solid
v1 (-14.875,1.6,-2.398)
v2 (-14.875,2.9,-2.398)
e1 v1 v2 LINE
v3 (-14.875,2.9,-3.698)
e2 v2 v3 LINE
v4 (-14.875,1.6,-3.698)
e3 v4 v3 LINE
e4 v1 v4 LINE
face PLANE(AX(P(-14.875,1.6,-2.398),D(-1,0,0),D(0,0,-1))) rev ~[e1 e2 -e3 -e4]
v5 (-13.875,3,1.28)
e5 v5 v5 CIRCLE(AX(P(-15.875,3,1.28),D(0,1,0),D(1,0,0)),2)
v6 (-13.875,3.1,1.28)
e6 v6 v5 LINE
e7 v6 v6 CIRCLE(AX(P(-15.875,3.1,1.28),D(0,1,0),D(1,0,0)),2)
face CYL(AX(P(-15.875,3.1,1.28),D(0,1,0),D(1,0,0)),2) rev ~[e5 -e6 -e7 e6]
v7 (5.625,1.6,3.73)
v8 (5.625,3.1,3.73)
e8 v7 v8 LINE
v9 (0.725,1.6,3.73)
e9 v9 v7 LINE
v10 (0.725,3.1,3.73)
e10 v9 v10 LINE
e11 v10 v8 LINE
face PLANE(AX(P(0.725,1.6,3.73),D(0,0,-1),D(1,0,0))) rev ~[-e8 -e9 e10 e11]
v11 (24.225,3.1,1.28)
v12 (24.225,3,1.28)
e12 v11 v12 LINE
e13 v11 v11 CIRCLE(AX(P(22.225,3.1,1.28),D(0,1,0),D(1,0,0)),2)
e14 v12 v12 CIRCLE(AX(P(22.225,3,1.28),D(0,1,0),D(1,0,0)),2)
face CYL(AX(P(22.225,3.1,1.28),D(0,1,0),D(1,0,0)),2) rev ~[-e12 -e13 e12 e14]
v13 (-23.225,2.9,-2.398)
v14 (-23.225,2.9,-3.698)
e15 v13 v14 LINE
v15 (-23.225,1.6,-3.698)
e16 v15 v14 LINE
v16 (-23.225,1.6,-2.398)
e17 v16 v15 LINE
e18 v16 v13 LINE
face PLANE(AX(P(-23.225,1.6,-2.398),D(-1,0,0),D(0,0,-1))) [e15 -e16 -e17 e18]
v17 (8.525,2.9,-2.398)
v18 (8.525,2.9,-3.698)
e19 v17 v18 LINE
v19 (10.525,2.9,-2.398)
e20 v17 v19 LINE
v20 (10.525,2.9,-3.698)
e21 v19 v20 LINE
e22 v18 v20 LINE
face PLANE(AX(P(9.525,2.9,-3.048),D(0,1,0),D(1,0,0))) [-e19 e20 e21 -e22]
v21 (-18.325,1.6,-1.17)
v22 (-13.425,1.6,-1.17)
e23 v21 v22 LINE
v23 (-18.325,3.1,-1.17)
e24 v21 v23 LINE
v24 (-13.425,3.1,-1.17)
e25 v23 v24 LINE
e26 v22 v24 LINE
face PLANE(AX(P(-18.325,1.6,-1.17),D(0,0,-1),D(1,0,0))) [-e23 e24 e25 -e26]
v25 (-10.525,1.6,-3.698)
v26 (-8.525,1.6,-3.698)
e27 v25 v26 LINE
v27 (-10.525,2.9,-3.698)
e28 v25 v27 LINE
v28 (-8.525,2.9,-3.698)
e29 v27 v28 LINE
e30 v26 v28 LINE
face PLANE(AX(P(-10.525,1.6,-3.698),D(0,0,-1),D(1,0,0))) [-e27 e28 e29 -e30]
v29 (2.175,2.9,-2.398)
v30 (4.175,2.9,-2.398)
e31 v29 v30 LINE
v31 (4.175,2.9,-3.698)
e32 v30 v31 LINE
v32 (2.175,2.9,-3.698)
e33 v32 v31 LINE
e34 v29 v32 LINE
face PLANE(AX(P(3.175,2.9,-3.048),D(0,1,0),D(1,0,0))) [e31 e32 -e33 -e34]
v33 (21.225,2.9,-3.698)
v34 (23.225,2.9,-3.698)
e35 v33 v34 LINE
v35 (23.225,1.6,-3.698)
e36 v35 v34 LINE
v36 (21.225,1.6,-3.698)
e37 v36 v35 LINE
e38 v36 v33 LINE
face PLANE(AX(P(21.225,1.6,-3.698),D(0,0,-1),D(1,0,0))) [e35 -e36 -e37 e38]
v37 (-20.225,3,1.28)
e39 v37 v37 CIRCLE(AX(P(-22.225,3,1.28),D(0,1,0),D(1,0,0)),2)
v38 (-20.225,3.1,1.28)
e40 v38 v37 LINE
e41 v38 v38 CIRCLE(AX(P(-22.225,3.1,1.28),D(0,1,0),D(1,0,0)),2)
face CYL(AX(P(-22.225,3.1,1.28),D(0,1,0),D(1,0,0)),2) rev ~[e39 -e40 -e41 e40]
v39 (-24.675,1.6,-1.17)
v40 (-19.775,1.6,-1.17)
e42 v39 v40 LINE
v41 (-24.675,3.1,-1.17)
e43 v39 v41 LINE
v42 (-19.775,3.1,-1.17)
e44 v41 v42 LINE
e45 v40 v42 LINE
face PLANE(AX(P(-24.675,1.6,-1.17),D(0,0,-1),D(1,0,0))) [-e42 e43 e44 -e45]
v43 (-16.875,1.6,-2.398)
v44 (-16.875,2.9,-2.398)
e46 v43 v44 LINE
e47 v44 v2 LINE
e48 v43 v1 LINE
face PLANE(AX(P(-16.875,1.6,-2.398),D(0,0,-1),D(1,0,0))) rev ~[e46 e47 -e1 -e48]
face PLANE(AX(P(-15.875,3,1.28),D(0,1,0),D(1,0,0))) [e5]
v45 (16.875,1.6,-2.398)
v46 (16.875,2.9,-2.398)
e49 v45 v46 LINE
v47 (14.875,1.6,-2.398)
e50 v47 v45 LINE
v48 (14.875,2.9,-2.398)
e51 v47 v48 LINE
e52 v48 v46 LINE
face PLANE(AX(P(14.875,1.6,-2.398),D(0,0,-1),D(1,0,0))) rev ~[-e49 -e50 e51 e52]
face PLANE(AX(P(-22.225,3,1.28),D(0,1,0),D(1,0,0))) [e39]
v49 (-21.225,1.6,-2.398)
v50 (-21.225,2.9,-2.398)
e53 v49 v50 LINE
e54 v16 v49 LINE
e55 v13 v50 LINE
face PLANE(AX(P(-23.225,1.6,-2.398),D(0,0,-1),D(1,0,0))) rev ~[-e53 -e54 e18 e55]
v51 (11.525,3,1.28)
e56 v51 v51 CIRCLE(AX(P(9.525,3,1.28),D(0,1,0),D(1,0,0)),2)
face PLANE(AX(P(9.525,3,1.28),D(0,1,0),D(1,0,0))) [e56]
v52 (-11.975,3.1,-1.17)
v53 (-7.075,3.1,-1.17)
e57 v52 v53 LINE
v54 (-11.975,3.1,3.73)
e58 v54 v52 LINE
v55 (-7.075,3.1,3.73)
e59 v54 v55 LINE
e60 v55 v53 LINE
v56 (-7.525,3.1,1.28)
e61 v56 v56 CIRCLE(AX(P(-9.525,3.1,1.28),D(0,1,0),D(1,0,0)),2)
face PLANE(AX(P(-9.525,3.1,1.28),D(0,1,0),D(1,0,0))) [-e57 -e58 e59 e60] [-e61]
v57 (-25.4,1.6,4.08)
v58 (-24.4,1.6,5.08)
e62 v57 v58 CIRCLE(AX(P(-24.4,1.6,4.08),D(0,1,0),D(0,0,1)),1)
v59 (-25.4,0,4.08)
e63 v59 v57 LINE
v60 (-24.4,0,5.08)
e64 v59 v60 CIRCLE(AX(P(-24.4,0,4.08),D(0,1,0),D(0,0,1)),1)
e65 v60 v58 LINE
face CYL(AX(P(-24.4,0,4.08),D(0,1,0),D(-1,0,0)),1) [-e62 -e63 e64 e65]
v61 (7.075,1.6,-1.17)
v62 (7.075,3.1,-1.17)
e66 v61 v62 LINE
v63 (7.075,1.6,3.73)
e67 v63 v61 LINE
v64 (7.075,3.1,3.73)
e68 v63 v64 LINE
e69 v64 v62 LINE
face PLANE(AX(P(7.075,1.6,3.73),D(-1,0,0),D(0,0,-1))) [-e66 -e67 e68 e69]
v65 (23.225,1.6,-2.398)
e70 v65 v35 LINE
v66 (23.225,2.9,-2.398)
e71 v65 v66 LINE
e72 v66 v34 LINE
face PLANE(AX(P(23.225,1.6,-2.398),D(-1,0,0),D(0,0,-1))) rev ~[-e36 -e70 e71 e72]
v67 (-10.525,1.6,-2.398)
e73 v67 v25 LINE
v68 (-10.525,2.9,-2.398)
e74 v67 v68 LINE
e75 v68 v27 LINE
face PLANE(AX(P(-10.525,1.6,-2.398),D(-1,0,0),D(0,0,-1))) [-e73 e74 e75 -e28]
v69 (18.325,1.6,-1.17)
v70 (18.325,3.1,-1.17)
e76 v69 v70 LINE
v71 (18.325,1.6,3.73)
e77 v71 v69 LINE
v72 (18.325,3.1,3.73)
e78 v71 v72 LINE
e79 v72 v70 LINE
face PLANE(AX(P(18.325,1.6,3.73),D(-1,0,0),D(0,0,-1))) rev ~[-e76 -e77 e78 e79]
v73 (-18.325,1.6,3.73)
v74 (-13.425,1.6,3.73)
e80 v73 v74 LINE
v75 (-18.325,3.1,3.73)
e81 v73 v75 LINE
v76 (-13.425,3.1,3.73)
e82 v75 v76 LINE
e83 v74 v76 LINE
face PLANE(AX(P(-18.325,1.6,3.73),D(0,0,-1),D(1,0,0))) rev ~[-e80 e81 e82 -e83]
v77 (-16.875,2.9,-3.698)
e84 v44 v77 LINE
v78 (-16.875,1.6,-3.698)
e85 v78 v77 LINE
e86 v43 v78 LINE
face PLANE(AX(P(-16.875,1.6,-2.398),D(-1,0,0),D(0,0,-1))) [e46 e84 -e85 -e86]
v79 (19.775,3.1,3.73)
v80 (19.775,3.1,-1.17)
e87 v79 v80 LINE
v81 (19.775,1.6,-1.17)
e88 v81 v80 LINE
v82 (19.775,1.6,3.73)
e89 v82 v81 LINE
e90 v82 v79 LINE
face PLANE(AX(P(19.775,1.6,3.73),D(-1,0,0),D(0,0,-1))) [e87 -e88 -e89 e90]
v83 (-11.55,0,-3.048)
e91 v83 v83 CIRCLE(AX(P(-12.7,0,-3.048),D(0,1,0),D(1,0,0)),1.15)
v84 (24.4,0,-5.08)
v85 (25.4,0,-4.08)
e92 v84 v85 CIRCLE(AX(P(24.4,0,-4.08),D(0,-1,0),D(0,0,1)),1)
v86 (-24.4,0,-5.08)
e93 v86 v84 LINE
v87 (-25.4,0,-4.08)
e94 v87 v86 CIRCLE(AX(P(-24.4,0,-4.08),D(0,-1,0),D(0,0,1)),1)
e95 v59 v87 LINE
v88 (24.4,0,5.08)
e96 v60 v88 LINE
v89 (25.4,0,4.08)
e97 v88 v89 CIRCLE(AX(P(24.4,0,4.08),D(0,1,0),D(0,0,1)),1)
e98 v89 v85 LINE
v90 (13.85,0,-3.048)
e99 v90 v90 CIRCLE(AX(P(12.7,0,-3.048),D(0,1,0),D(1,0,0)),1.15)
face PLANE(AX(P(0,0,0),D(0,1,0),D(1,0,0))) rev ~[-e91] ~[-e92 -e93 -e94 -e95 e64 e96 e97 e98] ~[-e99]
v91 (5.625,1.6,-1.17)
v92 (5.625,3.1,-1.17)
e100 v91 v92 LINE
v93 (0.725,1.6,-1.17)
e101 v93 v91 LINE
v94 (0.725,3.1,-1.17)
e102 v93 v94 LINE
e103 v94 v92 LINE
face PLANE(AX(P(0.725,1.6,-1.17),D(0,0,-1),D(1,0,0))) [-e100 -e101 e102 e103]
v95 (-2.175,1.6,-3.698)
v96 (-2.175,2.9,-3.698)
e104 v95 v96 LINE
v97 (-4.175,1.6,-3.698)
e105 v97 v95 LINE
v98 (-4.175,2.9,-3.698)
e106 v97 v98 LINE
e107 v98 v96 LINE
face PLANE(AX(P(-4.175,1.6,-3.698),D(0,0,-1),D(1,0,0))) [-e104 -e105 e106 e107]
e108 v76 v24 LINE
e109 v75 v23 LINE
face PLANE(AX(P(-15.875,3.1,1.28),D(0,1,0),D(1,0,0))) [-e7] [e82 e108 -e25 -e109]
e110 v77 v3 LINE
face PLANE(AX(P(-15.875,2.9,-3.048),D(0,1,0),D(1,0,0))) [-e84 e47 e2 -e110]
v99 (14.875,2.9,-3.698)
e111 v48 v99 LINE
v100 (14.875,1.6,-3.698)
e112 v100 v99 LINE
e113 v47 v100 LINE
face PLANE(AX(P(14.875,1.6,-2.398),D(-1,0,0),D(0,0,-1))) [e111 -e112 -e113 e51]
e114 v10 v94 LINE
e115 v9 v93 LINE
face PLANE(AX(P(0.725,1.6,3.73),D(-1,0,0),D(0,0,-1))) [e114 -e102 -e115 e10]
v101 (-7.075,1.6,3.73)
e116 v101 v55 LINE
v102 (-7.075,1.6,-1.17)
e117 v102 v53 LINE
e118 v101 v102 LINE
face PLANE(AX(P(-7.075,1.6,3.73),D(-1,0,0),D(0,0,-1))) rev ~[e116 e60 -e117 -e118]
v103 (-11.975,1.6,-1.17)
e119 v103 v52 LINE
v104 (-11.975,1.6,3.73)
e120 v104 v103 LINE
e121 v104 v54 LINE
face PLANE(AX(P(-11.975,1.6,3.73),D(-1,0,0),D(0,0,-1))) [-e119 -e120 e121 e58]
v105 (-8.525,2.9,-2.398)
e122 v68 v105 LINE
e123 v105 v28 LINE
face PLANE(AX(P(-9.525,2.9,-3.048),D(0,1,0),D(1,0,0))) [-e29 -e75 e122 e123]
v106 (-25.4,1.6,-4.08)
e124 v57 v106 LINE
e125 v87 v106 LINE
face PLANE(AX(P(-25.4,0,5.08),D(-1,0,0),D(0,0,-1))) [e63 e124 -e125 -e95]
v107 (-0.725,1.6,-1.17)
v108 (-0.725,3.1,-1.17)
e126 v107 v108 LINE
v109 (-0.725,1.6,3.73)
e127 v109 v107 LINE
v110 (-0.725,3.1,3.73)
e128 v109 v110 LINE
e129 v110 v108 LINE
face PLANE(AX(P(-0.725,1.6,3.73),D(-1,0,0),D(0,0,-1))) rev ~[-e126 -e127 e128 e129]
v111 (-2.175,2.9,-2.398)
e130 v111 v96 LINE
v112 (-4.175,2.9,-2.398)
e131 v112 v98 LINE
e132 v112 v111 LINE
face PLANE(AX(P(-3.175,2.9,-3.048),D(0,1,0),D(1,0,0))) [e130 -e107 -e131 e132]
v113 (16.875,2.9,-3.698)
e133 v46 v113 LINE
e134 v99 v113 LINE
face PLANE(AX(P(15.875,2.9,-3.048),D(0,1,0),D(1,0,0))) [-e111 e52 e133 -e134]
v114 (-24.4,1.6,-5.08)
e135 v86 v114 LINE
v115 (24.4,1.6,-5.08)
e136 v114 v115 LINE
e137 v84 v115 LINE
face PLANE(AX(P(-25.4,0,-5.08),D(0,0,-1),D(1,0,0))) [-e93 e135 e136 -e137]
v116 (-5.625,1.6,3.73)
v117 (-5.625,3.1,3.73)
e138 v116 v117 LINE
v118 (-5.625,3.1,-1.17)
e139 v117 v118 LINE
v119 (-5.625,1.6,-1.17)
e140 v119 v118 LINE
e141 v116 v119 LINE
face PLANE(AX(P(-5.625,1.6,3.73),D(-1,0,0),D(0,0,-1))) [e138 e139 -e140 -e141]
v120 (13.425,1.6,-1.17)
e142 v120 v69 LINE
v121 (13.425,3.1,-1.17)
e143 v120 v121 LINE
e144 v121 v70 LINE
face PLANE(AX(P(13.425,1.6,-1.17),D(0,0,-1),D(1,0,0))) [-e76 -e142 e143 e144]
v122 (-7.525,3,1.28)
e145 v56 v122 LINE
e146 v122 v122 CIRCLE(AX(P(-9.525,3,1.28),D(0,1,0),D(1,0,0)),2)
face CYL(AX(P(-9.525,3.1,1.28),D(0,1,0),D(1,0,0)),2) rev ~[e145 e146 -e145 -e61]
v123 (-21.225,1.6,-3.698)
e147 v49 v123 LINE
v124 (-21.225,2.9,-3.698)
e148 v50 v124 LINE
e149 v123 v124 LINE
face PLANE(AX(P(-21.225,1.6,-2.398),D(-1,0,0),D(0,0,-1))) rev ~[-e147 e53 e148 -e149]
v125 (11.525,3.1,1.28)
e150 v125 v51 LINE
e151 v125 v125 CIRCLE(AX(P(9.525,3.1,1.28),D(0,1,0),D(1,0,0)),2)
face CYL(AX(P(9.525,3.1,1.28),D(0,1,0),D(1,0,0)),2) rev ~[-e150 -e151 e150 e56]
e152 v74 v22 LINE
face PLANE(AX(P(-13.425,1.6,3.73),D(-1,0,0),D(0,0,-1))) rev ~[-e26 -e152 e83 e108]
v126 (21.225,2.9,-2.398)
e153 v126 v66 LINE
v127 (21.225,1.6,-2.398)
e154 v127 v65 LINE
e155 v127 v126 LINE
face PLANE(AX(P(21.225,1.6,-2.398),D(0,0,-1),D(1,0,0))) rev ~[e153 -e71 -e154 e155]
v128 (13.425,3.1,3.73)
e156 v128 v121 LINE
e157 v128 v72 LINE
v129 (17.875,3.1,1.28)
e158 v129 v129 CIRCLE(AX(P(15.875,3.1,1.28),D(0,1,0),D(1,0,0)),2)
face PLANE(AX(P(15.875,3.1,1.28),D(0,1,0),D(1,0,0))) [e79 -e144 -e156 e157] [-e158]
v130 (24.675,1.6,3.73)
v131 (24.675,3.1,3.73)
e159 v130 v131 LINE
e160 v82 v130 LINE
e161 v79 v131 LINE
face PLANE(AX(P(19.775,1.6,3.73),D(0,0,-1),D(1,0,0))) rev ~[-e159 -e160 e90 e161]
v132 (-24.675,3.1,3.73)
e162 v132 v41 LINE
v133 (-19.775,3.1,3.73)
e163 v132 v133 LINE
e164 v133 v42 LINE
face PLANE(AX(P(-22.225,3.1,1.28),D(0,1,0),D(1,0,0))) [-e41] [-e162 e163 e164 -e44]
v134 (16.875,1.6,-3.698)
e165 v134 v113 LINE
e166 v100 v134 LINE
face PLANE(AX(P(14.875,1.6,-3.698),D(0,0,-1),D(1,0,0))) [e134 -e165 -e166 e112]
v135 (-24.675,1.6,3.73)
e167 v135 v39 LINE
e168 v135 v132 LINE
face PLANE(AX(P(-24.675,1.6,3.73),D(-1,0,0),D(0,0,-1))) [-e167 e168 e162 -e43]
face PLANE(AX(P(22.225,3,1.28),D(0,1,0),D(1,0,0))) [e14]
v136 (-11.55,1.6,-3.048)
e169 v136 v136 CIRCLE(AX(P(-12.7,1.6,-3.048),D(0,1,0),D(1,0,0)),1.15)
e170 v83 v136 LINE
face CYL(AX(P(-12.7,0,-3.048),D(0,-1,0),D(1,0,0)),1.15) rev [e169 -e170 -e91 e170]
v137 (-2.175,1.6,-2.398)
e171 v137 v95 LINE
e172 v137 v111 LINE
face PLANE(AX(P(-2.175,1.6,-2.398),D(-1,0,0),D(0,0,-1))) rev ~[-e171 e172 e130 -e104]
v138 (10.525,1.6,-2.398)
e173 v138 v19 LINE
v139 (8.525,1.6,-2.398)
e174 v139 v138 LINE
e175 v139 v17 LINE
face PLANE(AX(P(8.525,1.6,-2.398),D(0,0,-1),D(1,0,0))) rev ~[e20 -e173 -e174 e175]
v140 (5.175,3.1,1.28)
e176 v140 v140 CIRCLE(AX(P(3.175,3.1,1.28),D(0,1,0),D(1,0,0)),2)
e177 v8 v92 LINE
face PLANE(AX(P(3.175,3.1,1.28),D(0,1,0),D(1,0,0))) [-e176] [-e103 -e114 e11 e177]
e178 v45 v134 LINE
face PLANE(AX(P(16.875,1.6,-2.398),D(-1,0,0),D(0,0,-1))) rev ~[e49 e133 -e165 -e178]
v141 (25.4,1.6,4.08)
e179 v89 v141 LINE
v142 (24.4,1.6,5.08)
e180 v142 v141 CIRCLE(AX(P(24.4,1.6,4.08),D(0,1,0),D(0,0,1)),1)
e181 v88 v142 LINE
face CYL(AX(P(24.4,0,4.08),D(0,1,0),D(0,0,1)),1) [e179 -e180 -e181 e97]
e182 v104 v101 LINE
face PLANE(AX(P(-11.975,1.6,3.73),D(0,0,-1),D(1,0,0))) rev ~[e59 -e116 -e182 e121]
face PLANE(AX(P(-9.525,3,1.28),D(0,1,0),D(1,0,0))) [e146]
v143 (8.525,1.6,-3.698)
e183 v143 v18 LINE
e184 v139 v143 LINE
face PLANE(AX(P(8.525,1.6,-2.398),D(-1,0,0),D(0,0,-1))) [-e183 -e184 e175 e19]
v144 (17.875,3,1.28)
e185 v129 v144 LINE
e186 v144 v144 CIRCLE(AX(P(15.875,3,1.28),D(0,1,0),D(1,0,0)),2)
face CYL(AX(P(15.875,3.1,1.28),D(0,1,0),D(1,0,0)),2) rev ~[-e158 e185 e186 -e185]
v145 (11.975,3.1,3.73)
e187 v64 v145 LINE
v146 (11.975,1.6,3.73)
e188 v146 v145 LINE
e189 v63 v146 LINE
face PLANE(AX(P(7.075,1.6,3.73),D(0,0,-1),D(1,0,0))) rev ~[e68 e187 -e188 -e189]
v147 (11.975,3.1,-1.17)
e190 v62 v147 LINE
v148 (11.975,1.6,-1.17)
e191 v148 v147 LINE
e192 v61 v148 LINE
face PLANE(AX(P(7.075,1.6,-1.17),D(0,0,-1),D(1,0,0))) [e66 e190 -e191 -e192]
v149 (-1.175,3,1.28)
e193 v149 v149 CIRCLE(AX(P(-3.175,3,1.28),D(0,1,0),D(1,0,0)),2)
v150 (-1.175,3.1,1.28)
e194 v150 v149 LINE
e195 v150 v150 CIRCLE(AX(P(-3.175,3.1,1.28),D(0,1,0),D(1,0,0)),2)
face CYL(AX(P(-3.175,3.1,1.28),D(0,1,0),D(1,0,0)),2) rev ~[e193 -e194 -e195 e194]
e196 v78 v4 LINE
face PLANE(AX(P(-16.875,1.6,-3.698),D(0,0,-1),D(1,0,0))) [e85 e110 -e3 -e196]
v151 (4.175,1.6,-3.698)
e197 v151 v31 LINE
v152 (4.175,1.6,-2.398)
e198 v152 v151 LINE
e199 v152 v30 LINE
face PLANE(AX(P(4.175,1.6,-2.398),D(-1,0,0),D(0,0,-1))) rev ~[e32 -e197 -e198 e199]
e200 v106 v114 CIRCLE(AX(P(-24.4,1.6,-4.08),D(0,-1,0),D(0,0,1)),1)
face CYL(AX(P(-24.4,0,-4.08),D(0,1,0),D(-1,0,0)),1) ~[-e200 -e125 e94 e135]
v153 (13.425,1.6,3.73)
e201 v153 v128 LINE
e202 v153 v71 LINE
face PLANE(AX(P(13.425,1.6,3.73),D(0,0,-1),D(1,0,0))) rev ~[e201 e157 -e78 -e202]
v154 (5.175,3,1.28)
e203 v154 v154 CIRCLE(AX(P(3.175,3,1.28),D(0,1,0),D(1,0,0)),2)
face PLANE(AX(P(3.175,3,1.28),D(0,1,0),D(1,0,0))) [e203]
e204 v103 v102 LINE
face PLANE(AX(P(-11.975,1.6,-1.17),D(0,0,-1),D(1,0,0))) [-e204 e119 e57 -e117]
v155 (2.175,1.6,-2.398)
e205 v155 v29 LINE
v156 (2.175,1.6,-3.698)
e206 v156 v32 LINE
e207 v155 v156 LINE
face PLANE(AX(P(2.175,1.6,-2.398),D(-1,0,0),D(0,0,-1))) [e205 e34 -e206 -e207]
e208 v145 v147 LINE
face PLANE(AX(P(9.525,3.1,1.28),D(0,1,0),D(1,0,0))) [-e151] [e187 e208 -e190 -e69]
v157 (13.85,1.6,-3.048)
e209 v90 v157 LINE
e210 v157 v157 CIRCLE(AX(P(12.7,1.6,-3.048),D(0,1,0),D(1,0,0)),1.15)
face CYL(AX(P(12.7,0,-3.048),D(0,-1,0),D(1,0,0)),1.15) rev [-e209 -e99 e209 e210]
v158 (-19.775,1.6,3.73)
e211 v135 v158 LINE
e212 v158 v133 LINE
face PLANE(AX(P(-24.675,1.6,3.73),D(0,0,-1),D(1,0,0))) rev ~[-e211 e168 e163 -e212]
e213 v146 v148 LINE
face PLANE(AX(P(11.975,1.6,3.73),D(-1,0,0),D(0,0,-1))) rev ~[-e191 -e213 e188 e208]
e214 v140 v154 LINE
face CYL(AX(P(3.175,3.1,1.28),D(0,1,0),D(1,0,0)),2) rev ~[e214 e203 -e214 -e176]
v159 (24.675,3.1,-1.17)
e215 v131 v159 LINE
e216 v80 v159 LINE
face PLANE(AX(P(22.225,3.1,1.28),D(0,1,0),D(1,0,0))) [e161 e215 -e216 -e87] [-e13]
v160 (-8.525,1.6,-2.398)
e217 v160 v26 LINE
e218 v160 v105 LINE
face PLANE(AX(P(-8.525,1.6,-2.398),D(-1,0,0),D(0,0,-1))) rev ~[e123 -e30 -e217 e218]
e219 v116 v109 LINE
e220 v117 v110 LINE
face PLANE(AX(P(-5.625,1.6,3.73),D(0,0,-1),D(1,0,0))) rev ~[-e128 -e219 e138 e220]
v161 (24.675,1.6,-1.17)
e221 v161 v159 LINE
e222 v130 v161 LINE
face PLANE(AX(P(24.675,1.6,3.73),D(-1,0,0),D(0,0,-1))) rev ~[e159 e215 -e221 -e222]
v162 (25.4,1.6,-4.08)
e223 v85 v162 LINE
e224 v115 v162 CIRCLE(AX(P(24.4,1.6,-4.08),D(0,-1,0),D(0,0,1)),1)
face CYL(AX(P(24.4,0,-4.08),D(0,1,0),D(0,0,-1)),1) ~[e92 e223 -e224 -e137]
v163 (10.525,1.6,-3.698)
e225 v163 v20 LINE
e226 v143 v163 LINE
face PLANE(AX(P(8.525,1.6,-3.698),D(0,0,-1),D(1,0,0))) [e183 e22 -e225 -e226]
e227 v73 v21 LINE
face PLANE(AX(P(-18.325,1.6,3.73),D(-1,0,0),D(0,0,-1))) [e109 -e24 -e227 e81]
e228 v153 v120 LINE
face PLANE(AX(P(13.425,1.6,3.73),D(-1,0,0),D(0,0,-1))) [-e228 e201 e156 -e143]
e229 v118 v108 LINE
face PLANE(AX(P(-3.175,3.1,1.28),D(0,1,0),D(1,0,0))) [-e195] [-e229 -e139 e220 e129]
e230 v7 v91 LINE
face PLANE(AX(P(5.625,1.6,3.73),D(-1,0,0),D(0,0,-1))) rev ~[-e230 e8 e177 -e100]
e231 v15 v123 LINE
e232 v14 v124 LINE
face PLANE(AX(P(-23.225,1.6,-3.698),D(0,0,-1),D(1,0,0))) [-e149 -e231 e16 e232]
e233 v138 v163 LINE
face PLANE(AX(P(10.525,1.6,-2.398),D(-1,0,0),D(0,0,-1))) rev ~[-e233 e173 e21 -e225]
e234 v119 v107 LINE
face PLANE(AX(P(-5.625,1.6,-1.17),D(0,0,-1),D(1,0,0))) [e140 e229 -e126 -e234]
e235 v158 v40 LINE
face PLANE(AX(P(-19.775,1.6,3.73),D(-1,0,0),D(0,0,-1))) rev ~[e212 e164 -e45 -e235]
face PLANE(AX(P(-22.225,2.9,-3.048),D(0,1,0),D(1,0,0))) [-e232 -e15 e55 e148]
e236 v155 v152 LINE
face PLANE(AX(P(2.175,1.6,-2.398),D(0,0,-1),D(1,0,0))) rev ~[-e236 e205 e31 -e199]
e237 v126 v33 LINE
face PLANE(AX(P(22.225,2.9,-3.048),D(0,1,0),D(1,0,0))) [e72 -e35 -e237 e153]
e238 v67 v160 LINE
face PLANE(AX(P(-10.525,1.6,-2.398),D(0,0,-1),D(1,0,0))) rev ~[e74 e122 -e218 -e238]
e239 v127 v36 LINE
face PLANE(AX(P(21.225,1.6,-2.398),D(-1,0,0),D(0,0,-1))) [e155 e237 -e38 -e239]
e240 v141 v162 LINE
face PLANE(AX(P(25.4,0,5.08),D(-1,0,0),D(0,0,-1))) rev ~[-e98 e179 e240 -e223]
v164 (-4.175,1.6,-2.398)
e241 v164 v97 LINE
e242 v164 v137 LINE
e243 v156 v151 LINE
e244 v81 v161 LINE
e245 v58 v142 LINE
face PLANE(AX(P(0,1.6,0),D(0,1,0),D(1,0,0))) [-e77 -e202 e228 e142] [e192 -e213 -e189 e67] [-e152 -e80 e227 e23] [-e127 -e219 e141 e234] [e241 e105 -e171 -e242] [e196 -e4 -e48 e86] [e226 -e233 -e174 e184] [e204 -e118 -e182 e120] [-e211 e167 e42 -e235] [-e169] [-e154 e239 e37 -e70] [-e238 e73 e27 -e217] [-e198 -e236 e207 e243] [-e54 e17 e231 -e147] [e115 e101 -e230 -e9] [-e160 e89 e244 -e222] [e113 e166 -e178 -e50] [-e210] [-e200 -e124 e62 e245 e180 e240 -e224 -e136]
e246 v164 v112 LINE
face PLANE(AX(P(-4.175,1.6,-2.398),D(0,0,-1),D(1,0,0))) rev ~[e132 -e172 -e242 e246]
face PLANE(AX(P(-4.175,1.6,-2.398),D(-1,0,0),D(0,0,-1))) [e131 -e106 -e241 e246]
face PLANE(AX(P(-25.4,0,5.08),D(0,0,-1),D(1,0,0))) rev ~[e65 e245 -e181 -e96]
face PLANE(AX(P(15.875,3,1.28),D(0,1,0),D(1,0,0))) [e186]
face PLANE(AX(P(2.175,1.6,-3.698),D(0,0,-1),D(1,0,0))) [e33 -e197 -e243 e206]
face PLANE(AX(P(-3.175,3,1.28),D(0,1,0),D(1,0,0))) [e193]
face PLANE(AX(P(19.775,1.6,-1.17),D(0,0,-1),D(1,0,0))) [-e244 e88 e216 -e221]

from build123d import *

# Parameters (mm, degrees)
SKETCH1_W         = 50.8
SKETCH1_H         = 10.16
SKETCH1_R         = 1.15
PCB_DEPTH         = 1.6
SKETCH2_W         = 4.9
SKETCH2_H         = 4.9
LEDS_DEPTH        = 1.5
SKETCH3_W         = 2
SKETCH3_H         = 1.3
CAPS_DEPTH        = 1.3
SKETCH4_R         = 2
LED_WINDOWS_DEPTH = 0.1
FILED_FILLETS_R   = 1


with BuildPart() as part:
    # Sketch1 → PCB (new body)
    with BuildSketch(Plane(origin=(0, 0, 0), x_dir=(1, 0, 0), z_dir=(0, 1, 0))):
        Rectangle(SKETCH1_W, SKETCH1_H)
        with Locations((-12.7, 3.048)):
            Circle(SKETCH1_R, mode=Mode.SUBTRACT)
        with Locations((12.7, 3.048)):
            Circle(SKETCH1_R, mode=Mode.SUBTRACT)
    extrude(amount=PCB_DEPTH)

    # Sketch2 → LEDs (add)
    with BuildSketch(Plane(origin=(0, 1.6, 0), x_dir=(1, 0, 0), z_dir=(0, 1, 0))):
        with Locations((3.175, -1.28)):
            Rectangle(SKETCH2_W, SKETCH2_H)
        with Locations((-3.175, -1.28)):
            Rectangle(SKETCH2_W, SKETCH2_H)
        with Locations((9.525, -1.28)):
            Rectangle(SKETCH2_W, SKETCH2_H)
        with Locations((15.875, -1.28)):
            Rectangle(SKETCH2_W, SKETCH2_H)
        with Locations((22.225, -1.28)):
            Rectangle(SKETCH2_W, SKETCH2_H)
        with Locations((-22.225, -1.28)):
            Rectangle(SKETCH2_W, SKETCH2_H)
        with Locations((-15.875, -1.28)):
            Rectangle(SKETCH2_W, SKETCH2_H)
        with Locations((-9.525, -1.28)):
            Rectangle(SKETCH2_W, SKETCH2_H)
    extrude(amount=LEDS_DEPTH)

    # Sketch3 → Caps (add)
    with BuildSketch(Plane(origin=(0, 1.6, 0), x_dir=(1, 0, 0), z_dir=(0, 1, 0))):
        with Locations((-15.875, 3.048)):
            Rectangle(SKETCH3_W, SKETCH3_H)
        with Locations((-22.225, 3.048)):
            Rectangle(SKETCH3_W, SKETCH3_H)
        with Locations((-9.525, 3.048)):
            Rectangle(SKETCH3_W, SKETCH3_H)
        with Locations((-3.175, 3.048)):
            Rectangle(SKETCH3_W, SKETCH3_H)
        with Locations((3.175, 3.048)):
            Rectangle(SKETCH3_W, SKETCH3_H)
        with Locations((9.525, 3.048)):
            Rectangle(SKETCH3_W, SKETCH3_H)
        with Locations((15.875, 3.048)):
            Rectangle(SKETCH3_W, SKETCH3_H)
        with Locations((22.225, 3.048)):
            Rectangle(SKETCH3_W, SKETCH3_H)
    extrude(amount=CAPS_DEPTH)

    # Sketch4 → LED windows (cut)
    with BuildSketch(Plane(origin=(0, 3.1, 0), x_dir=(1, 0, 0), z_dir=(0, 1, 0))):
        with Locations((-22.225, -1.28)):
            Circle(SKETCH4_R)
        with Locations((-15.875, -1.28)):
            Circle(SKETCH4_R)
        with Locations((-9.525, -1.28)):
            Circle(SKETCH4_R)
        with Locations((-3.175, -1.28)):
            Circle(SKETCH4_R)
        with Locations((3.175, -1.28)):
            Circle(SKETCH4_R)
        with Locations((9.525, -1.28)):
            Circle(SKETCH4_R)
        with Locations((15.875, -1.28)):
            Circle(SKETCH4_R)
        with Locations((22.225, -1.28)):
            Circle(SKETCH4_R)
    extrude(amount=-LED_WINDOWS_DEPTH, mode=Mode.SUBTRACT)

    # Filed fillets
    filed_fillets_edges = [part.edges().sort_by_distance(p)[0] for p in [
        (25.4, 0.8, 5.08),
        (-25.4, 0.8, 5.08),
        (-25.4, 0.8, -5.08),
        (25.4, 0.8, -5.08),
    ]]
    fillet(filed_fillets_edges, radius=FILED_FILLETS_R)


solid = part.part
